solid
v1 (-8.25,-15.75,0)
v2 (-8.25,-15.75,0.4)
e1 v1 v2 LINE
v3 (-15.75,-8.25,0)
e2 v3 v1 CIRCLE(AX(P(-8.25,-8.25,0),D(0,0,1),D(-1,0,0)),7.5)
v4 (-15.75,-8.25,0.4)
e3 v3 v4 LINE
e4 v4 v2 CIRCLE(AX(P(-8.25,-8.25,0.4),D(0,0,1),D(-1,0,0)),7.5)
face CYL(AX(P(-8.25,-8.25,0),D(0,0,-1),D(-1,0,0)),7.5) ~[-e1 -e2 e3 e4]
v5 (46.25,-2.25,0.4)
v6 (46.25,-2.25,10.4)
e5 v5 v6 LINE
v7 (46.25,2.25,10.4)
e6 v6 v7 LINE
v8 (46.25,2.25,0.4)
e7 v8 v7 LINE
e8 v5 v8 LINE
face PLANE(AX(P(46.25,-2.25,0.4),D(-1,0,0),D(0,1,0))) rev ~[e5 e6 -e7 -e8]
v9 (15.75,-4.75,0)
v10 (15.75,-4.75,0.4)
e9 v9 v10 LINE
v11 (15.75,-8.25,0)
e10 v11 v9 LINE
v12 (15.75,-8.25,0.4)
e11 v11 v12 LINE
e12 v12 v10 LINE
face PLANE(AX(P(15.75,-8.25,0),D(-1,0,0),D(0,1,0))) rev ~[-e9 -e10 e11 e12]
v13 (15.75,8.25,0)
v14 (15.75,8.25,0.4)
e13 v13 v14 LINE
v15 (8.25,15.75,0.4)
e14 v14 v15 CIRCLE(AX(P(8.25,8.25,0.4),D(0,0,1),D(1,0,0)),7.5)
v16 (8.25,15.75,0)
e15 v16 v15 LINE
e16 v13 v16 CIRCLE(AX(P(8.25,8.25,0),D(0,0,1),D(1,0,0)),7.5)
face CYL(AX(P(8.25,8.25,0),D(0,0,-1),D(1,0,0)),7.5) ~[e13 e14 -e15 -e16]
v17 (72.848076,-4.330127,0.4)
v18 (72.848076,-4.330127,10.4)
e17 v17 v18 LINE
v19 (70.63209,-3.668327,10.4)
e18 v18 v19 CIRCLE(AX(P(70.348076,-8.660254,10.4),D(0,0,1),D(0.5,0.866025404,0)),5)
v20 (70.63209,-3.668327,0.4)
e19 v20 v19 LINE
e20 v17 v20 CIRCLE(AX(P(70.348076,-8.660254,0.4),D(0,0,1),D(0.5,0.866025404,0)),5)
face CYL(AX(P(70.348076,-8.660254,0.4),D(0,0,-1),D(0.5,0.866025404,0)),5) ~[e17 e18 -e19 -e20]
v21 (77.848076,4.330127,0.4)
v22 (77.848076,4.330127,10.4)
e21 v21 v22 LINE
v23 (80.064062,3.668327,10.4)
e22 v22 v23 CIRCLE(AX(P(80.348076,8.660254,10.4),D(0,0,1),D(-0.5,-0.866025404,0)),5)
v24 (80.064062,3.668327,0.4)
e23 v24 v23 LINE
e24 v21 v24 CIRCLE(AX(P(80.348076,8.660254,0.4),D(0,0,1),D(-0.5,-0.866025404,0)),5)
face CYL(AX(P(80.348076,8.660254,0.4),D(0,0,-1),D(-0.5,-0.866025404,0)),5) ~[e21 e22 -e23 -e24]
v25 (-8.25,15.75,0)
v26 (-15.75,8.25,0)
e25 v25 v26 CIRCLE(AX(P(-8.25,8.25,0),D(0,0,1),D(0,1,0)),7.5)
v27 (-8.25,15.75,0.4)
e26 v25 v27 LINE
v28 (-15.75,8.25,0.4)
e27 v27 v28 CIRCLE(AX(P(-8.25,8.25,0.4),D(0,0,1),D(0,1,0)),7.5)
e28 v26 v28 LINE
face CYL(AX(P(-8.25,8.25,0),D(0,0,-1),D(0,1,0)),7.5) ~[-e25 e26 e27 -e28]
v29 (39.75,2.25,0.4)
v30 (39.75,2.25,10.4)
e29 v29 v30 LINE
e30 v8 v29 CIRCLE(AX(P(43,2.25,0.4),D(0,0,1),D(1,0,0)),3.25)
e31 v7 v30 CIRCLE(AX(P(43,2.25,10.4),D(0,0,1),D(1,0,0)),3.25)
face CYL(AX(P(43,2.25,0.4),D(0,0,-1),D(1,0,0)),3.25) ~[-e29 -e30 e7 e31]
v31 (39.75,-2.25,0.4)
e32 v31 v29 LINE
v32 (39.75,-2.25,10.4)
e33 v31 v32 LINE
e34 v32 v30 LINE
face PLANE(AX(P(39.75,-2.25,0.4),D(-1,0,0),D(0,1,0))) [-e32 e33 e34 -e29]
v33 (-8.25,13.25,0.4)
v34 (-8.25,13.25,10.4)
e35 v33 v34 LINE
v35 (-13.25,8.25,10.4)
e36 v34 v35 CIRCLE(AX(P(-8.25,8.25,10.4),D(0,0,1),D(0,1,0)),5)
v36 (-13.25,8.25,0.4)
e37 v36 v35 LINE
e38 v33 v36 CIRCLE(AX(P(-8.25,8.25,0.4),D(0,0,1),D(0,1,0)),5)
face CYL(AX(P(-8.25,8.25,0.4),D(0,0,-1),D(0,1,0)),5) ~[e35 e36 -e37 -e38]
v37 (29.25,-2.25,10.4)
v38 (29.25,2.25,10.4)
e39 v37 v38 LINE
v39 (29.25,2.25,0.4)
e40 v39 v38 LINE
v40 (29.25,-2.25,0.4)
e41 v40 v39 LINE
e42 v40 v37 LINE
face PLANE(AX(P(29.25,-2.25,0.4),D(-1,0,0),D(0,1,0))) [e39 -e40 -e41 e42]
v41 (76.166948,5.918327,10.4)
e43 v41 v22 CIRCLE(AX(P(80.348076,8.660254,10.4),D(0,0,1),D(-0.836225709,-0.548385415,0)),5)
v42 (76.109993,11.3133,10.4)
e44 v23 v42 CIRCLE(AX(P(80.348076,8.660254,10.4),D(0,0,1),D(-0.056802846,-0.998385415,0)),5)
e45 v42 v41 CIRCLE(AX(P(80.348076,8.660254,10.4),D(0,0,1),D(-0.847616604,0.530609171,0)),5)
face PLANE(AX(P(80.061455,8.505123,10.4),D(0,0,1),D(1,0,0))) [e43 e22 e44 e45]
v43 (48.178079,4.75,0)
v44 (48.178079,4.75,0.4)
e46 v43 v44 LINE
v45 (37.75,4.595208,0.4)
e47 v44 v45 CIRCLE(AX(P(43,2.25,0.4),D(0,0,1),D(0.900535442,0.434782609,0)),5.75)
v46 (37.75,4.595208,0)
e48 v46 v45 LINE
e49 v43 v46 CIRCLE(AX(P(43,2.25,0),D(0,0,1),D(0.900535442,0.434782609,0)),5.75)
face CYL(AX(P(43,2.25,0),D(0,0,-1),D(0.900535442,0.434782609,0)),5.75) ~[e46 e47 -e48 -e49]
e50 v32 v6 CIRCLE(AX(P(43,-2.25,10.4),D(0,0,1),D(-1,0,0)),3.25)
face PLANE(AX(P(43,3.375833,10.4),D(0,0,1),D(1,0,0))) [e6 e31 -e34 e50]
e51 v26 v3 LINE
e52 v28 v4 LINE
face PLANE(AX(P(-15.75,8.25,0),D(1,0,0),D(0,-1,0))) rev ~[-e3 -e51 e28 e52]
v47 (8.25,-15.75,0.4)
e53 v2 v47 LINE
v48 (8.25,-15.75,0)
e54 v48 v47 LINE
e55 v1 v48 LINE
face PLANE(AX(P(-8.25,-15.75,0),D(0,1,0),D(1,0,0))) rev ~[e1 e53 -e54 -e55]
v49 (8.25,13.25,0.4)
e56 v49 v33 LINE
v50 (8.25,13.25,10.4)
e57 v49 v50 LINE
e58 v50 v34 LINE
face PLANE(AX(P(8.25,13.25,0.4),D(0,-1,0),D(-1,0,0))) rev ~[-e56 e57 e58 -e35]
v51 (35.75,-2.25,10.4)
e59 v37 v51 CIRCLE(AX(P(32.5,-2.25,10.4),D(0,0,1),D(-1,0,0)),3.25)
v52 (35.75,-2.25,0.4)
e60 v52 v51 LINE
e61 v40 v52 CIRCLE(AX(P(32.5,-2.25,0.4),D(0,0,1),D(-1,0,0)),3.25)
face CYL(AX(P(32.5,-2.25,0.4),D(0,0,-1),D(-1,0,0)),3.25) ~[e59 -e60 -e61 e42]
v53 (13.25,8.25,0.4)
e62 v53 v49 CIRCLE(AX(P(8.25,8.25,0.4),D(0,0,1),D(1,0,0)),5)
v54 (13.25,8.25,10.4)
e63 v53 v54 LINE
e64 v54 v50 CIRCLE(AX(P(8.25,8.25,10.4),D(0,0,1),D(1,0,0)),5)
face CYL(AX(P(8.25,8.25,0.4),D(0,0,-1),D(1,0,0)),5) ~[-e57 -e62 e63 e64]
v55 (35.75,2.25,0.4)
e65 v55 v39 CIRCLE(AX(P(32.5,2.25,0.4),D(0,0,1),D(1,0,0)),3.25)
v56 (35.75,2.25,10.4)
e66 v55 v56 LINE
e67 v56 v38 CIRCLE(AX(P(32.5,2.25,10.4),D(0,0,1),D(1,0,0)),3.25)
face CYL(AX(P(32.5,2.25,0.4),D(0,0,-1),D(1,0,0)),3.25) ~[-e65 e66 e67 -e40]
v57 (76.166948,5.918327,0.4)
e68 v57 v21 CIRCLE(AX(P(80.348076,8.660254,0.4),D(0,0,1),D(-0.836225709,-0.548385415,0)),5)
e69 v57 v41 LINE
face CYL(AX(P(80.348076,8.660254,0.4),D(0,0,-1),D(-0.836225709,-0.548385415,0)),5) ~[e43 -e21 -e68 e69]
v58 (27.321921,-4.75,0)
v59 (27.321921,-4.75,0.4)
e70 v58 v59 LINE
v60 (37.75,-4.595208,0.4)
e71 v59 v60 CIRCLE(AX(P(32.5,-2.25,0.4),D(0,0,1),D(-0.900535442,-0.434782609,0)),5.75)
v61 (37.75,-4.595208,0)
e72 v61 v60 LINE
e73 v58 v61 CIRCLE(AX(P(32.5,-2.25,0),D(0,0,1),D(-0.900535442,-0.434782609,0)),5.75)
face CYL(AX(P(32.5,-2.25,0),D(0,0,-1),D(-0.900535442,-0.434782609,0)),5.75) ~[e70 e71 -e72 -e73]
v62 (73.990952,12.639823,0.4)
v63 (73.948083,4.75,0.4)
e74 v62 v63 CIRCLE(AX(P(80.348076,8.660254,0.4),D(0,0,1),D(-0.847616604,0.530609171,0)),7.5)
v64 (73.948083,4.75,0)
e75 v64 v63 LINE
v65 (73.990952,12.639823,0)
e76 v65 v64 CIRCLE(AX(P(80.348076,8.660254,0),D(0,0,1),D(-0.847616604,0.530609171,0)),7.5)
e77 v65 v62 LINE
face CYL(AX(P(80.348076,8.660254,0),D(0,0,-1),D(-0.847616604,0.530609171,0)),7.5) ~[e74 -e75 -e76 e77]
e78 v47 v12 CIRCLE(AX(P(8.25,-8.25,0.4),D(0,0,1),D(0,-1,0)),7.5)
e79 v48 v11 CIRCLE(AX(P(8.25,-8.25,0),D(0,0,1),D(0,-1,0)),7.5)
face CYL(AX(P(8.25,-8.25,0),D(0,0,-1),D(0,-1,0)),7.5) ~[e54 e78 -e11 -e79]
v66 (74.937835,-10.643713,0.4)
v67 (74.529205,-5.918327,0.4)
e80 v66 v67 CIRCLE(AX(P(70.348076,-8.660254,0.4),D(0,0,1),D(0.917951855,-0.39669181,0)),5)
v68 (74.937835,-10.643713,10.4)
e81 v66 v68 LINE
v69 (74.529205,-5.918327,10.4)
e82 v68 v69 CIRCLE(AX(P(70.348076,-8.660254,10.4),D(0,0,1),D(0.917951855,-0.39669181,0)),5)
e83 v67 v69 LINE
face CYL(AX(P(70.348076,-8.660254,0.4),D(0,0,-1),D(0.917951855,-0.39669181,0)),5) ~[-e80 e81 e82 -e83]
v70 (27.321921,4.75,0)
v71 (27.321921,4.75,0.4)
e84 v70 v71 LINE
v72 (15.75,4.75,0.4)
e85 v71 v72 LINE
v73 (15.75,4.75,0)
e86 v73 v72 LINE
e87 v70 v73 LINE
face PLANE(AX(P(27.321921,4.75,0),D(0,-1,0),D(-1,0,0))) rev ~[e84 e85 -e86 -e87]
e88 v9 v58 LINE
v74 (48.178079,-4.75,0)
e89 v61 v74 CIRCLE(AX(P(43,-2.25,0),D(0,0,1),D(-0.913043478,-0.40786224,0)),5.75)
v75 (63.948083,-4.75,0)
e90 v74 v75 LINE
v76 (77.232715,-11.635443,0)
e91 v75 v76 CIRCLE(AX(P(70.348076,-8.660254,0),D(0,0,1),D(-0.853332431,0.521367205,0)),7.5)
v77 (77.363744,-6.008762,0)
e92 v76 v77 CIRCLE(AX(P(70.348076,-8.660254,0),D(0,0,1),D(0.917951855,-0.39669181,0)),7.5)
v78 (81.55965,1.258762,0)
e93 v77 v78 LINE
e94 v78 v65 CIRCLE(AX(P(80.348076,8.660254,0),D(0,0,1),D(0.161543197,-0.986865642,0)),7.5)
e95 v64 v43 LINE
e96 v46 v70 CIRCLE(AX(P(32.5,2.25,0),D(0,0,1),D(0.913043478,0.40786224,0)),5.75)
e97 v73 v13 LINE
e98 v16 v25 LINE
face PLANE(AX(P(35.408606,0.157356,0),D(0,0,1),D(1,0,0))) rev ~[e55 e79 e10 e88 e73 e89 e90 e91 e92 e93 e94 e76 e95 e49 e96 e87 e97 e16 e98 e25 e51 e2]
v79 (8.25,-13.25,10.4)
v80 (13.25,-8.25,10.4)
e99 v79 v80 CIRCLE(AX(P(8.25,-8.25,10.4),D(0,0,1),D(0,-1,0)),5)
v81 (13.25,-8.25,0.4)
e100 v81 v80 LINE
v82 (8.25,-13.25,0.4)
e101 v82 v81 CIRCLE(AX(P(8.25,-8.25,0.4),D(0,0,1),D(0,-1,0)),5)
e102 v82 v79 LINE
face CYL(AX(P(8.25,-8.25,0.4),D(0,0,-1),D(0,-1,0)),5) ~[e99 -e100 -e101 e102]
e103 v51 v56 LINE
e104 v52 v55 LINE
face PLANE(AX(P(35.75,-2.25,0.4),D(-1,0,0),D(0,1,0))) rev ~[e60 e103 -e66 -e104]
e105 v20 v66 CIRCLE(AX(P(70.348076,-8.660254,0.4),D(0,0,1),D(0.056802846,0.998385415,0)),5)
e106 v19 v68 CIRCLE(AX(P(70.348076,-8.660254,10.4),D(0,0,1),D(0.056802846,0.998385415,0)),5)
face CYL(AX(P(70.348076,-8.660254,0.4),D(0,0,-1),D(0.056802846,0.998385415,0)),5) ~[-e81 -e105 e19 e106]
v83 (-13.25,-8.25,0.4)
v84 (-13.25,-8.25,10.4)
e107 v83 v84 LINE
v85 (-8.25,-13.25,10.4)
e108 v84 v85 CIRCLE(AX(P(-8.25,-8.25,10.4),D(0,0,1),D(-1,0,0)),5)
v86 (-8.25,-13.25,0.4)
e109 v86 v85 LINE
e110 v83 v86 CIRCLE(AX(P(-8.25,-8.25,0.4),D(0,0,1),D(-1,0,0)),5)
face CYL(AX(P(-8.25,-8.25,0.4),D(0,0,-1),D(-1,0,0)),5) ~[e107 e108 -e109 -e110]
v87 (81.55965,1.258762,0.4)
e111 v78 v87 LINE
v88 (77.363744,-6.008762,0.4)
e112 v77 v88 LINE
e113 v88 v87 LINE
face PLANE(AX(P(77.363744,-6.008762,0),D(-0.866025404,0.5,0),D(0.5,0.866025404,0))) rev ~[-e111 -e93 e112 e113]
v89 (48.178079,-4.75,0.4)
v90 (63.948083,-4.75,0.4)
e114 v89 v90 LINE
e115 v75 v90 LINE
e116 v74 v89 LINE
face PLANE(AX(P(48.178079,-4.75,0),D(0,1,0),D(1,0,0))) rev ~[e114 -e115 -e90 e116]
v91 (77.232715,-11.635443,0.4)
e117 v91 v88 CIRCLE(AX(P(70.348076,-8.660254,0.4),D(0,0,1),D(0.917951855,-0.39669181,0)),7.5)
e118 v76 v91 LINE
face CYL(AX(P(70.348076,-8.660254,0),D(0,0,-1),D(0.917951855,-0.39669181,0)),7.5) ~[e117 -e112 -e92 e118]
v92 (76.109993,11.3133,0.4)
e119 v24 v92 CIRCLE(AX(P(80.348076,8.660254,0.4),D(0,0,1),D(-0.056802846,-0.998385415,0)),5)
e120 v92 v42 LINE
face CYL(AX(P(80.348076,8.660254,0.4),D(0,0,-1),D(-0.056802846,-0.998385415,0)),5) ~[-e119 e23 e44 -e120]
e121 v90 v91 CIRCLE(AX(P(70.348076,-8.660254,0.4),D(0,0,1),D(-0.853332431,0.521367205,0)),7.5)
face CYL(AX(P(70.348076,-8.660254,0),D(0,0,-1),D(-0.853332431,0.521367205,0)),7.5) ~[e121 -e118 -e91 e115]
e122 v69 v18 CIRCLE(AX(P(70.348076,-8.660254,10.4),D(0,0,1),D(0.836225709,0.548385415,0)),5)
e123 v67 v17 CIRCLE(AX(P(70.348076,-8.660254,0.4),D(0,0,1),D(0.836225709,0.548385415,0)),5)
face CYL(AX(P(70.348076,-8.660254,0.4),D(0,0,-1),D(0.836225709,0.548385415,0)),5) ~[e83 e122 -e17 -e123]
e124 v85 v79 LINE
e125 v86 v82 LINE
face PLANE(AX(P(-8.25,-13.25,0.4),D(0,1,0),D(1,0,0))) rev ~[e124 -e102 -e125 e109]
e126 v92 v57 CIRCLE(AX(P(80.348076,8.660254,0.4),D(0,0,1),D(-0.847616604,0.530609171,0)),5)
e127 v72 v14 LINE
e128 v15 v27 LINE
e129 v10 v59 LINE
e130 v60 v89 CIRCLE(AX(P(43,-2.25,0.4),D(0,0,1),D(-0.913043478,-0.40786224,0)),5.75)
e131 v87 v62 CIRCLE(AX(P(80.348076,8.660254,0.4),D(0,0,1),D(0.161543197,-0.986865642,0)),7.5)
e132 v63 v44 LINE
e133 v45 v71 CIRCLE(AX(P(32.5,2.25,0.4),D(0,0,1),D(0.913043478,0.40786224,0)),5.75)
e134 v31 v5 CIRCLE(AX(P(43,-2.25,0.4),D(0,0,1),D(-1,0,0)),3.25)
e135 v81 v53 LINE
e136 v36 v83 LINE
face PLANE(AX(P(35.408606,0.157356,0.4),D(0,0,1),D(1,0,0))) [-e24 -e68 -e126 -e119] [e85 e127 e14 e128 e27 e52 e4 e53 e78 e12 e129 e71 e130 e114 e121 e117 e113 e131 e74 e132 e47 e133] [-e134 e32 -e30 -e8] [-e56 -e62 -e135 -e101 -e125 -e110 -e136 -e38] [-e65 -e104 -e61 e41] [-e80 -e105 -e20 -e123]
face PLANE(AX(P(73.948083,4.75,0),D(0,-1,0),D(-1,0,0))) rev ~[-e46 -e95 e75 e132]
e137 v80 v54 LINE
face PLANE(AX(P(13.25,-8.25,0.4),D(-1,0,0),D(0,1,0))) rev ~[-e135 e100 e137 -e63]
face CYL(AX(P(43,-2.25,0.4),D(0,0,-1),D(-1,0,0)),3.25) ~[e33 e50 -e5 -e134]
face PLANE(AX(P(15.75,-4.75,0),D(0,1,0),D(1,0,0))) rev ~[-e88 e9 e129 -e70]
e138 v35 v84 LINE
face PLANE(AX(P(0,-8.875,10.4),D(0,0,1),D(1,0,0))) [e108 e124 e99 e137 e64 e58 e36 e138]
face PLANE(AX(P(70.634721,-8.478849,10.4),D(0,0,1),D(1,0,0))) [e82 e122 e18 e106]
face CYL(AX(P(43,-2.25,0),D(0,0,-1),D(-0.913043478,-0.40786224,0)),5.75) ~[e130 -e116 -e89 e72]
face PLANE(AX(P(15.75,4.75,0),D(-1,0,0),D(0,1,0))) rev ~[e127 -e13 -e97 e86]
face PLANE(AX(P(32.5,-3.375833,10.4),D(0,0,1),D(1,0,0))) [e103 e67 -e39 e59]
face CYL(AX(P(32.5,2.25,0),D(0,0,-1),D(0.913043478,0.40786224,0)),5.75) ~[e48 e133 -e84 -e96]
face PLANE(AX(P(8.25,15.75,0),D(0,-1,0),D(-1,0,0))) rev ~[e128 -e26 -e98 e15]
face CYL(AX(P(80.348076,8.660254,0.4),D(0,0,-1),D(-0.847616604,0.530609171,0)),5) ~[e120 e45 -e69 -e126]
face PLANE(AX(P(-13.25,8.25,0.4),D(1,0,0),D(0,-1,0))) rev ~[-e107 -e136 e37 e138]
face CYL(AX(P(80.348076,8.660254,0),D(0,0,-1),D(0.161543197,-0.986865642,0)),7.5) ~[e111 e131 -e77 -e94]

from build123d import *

# Parameters (mm, degrees)
F0_W     = 16
F0_H     = 4.5
F0_W_2   = 6.5
F0_W_3   = 4
F1_DEPTH = 0.4
F2_W     = 6.5
F2_H     = 4.5
F3_DEPTH = 10


with BuildPart() as f1:
    # F0 (on Top) → F1 (new body)
    with BuildSketch(Plane.XY):
        with BuildLine():
            Line((15.75, 4.75), (15.75, 8.25))
            ThreePointArc((15.75, 8.25), (13.5533008589, 13.5533008589), (8.25, 15.75))
            Line((8.25, 15.75), (-8.25, 15.75))
            ThreePointArc((-8.25, 15.75), (-13.5533008589, 13.5533008589), (-15.75, 8.25))
            Line((-15.75, 8.25), (-15.75, -8.25))
            ThreePointArc((-15.75, -8.25), (-13.5533008589, -13.5533008589), (-8.25, -15.75))
            Line((-8.25, -15.75), (8.25, -15.75))
            ThreePointArc((8.25, -15.75), (13.5533008589, -13.5533008589), (15.75, -8.25))
            Line((15.75, -8.25), (15.75, -4.75))
            Line((15.75, -4.75), (27.3219212057, -4.75))
            ThreePointArc((27.3219212057, -4.75), (32.5853423404, -7.9993666334), (37.75, -4.5952078799))
            ThreePointArc((37.75, -4.5952078799), (42.9146576596, -7.9993666334), (48.1780787943, -4.75))
            Line((48.1780787943, -4.75), (63.9480829801, -4.75))
            ThreePointArc((63.9480829801, -4.75), (66.8968372515, -15.3190038936), (77.2327151222, -11.6354426145))
            ThreePointArc((77.2327151222, -11.6354426145), (77.8460434738, -8.8348591092), (77.3637435709, -6.0087617221))
            Line((77.3637435709, -6.0087617221), (81.5596501878, 1.2587617221))
            ThreePointArc((81.5596501878, 1.2587617221), (86.5931791372, 12.813408194), (73.9909516796, 12.6398228195))
            ThreePointArc((73.9909516796, 12.6398228195), (72.8481869165, 8.7010040658), (73.9480829801, 4.75))
            Line((73.9480829801, 4.75), (48.1780787943, 4.75))
            ThreePointArc((48.1780787943, 4.75), (42.9146576596, 7.9993666334), (37.75, 4.5952078799))
            ThreePointArc((37.75, 4.5952078799), (32.5853423404, 7.9993666334), (27.3219212057, 4.75))
            Line((27.3219212057, 4.75), (15.75, 4.75))
        make_face()
        with BuildLine():
            ThreePointArc((13.25, -8.25), (11.7855339059, -11.7855339059), (8.25, -13.25))
            Line((8.25, -13.25), (4.5, -13.25))
            Line((4.5, -13.25), (-4.5, -13.25))
            Line((-4.5, -13.25), (-8.25, -13.25))
            ThreePointArc((-8.25, -13.25), (-11.7855339059, -11.7855339059), (-13.25, -8.25))
            Line((-13.25, -8.25), (-13.25, -4.5))
            Line((-13.25, -4.5), (-13.25, 4.5))
            Line((-13.25, 4.5), (-13.25, 8.25))
            ThreePointArc((-13.25, 8.25), (-11.7855339059, 11.7855339059), (-8.25, 13.25))
            Line((-8.25, 13.25), (-4.5, 13.25))
            Line((-4.5, 13.25), (4.5, 13.25))
            Line((4.5, 13.25), (8.25, 13.25))
            ThreePointArc((8.25, 13.25), (11.7855339059, 11.7855339059), (13.25, 8.25))
            Line((13.25, 8.25), (13.25, 4.5))
            Line((13.25, 4.5), (13.25, 2.25))
            Line((13.25, 2.25), (29.25, 2.25))
            ThreePointArc((29.25, 2.25), (32.5, 5.5), (35.75, 2.25))
            Line((35.75, 2.25), (39.75, 2.25))
            ThreePointArc((39.75, 2.25), (43, 5.5), (46.25, 2.25))
            Line((46.25, 2.25), (74.0490381057, 2.25))
            Line((74.0490381057, 2.25), (76.1669476654, 5.9183269633))
            ThreePointArc((76.1669476654, 5.9183269633), (75.3483548112, 8.6074722144), (76.1099931902, 11.3132998923))
            ThreePointArc((76.1099931902, 11.3132998923), (84.7892183681, 10.9572643434), (80.0640619824, 3.6683269633))
            Line((80.0640619824, 3.6683269633), (74.5292047573, -5.9183269633))
            ThreePointArc((74.5292047573, -5.9183269633), (75.3294853289, -8.2294835611), (74.9378354853, -10.643713089))
            ThreePointArc((74.9378354853, -10.643713089), (66.0933823399, -11.2865784771), (70.6320904403, -3.6683269633))
            Line((70.6320904403, -3.6683269633), (71.4509618943, -2.25))
            Line((71.4509618943, -2.25), (46.25, -2.25))
            ThreePointArc((46.25, -2.25), (43, -5.5), (39.75, -2.25))
            Line((39.75, -2.25), (35.75, -2.25))
            ThreePointArc((35.75, -2.25), (32.5, -5.5), (29.25, -2.25))
            Line((29.25, -2.25), (13.25, -2.25))
            Line((13.25, -2.25), (13.25, -4.5))
            Line((13.25, -4.5), (13.25, -8.25))
        make_face(mode=Mode.SUBTRACT)
        Polygon((46.25, 2.25), (46.25, -2.25), (71.4509618943, -2.25), (74.0490381057, 2.25), align=None)
        Polygon((-4.5, 4.5), (0, 4.5), (4.5, 4.5), (4.5, 13.25), (-4.5, 13.25), align=None)
        Polygon((-13.25, -4.5), (-4.5, -4.5), (-4.5, 0), (-4.5, 4.5), (-13.25, 4.5), align=None)
        Polygon((4.5, 0), (4.5, -4.5), (13.25, -4.5), (13.25, -2.25), (13.25, 2.25), (13.25, 4.5), (4.5, 4.5), align=None)
        Polygon((-4.5, -13.25), (4.5, -13.25), (4.5, -4.5), (0, -4.5), (-4.5, -4.5), align=None)
        with BuildLine():
            ThreePointArc((74.5292047573, -5.9183269633), (72.8480762114, -4.3301270189), (70.6320904403, -3.6683269633))
            ThreePointArc((70.6320904403, -3.6683269633), (66.0933823399, -11.2865784771), (74.9378354853, -10.643713089))
            ThreePointArc((74.9378354853, -10.643713089), (75.3294853289, -8.2294835611), (74.5292047573, -5.9183269633))
        make_face()
        with BuildLine():
            ThreePointArc((76.1099931902, 11.3132998923), (75.3483548112, 8.6074722144), (76.1669476654, 5.9183269633))
            ThreePointArc((76.1669476654, 5.9183269633), (77.8480762114, 4.3301270189), (80.0640619824, 3.6683269633))
            ThreePointArc((80.0640619824, 3.6683269633), (84.7892183681, 10.9572643434), (76.1099931902, 11.3132998923))
        make_face()
        with Locations((21.25, 0)):
            Rectangle(F0_W, F0_H)
        with BuildLine():
            Line((4.5, 13.25), (4.5, 4.5))
            Line((4.5, 4.5), (13.25, 4.5))
            Line((13.25, 4.5), (13.25, 8.25))
            ThreePointArc((13.25, 8.25), (11.7855339059, 11.7855339059), (8.25, 13.25))
            Line((8.25, 13.25), (4.5, 13.25))
        make_face()
        with BuildLine():
            Line((-13.25, 4.5), (-4.5, 4.5))
            Line((-4.5, 4.5), (-4.5, 13.25))
            Line((-4.5, 13.25), (-8.25, 13.25))
            ThreePointArc((-8.25, 13.25), (-11.7855339059, 11.7855339059), (-13.25, 8.25))
            Line((-13.25, 8.25), (-13.25, 4.5))
        make_face()
        with BuildLine():
            Line((4.5, -13.25), (8.25, -13.25))
            ThreePointArc((8.25, -13.25), (11.7855339059, -11.7855339059), (13.25, -8.25))
            Line((13.25, -8.25), (13.25, -4.5))
            Line((13.25, -4.5), (4.5, -4.5))
            Line((4.5, -4.5), (4.5, -13.25))
        make_face()
        with BuildLine():
            Line((-8.25, -13.25), (-4.5, -13.25))
            Line((-4.5, -13.25), (-4.5, -4.5))
            Line((-4.5, -4.5), (-13.25, -4.5))
            Line((-13.25, -4.5), (-13.25, -8.25))
            ThreePointArc((-13.25, -8.25), (-11.7855339059, -11.7855339059), (-8.25, -13.25))
        make_face()
        with BuildLine():
            ThreePointArc((0, -4.5), (3.1819805153, -3.1819805153), (4.5, 0))
            ThreePointArc((4.5, 0), (3.1819805153, 3.1819805153), (0, 4.5))
            ThreePointArc((0, 4.5), (-3.1819805153, 3.1819805153), (-4.5, 0))
            ThreePointArc((-4.5, 0), (-3.1819805153, -3.1819805153), (0, -4.5))
        make_face()
        with BuildLine():
            Line((74.0490381057, 2.25), (71.4509618943, -2.25))
            Line((71.4509618943, -2.25), (70.6320904403, -3.6683269633))
            ThreePointArc((70.6320904403, -3.6683269633), (72.8480762114, -4.3301270189), (74.5292047573, -5.9183269633))
            Line((74.5292047573, -5.9183269633), (80.0640619824, 3.6683269633))
            ThreePointArc((80.0640619824, 3.6683269633), (77.8480762114, 4.3301270189), (76.1669476654, 5.9183269633))
            Line((76.1669476654, 5.9183269633), (74.0490381057, 2.25))
        make_face()
        with Locations((32.5, 0)):
            Rectangle(F0_W_2, F0_H)
        with Locations((43, 0)):
            Rectangle(F0_W_2, F0_H)
        with Locations((37.75, 0)):
            Rectangle(F0_W_3, F0_H)
        with BuildLine():
            Line((35.75, -2.25), (29.25, -2.25))
            ThreePointArc((29.25, -2.25), (32.5, -5.5), (35.75, -2.25))
        make_face()
        with BuildLine():
            ThreePointArc((35.75, 2.25), (32.5, 5.5), (29.25, 2.25))
            Line((29.25, 2.25), (35.75, 2.25))
        make_face()
        with BuildLine():
            Line((46.25, -2.25), (39.75, -2.25))
            ThreePointArc((39.75, -2.25), (43, -5.5), (46.25, -2.25))
        make_face()
        with BuildLine():
            ThreePointArc((46.25, 2.25), (43, 5.5), (39.75, 2.25))
            Line((39.75, 2.25), (46.25, 2.25))
        make_face()
        with BuildLine():
            Line((0, -4.5), (4.5, -4.5))
            Line((4.5, -4.5), (4.5, 0))
            ThreePointArc((4.5, 0), (3.1819805153, -3.1819805153), (0, -4.5))
        make_face()
        with BuildLine():
            Line((-4.5, 4.5), (-4.5, 0))
            ThreePointArc((-4.5, 0), (-3.1819805153, 3.1819805153), (0, 4.5))
            Line((0, 4.5), (-4.5, 4.5))
        make_face()
        with BuildLine():
            Line((-4.5, 0), (-4.5, -4.5))
            Line((-4.5, -4.5), (0, -4.5))
            ThreePointArc((0, -4.5), (-3.1819805153, -3.1819805153), (-4.5, 0))
        make_face()
        with BuildLine():
            ThreePointArc((0, 4.5), (3.1819805153, 3.1819805153), (4.5, 0))
            Line((4.5, 0), (4.5, 4.5))
            Line((4.5, 4.5), (0, 4.5))
        make_face()
    extrude(amount=F1_DEPTH)

    # F2 (on face) → F3 (join)
    with BuildSketch(Plane.XY.offset(0.4)):
        Polygon((-4.5, -13.25), (4.5, -13.25), (4.5, -4.5), (0, -4.5), (-4.5, -4.5), align=None)
        with BuildLine():
            Line((35.75, -2.25), (29.25, -2.25))
            ThreePointArc((29.25, -2.25), (32.5, -5.5), (35.75, -2.25))
        make_face()
        with BuildLine():
            ThreePointArc((35.75, 2.25), (32.5, 5.5), (29.25, 2.25))
            Line((29.25, 2.25), (35.75, 2.25))
        make_face()
        with Locations((32.5, 0)):
            Rectangle(F2_W, F2_H)
        with BuildLine():
            ThreePointArc((46.25, 2.25), (43, 5.5), (39.75, 2.25))
            Line((39.75, 2.25), (46.25, 2.25))
        make_face()
        with Locations((43, 0)):
            Rectangle(F2_W, F2_H)
        with BuildLine():
            Line((46.25, -2.25), (39.75, -2.25))
            ThreePointArc((39.75, -2.25), (43, -5.5), (46.25, -2.25))
        make_face()
        with BuildLine():
            ThreePointArc((72.8480762114, -4.3301270189), (71.7788727151, -3.8693437522), (70.6320904403, -3.6683269633))
            ThreePointArc((70.6320904403, -3.6683269633), (66.0933823399, -11.2865784771), (74.9378354853, -10.643713089))
            ThreePointArc((74.9378354853, -10.643713089), (75.3294853289, -8.2294835611), (74.5292047573, -5.9183269633))
            ThreePointArc((74.5292047573, -5.9183269633), (73.7817279741, -5.0256927751), (72.8480762114, -4.3301270189))
        make_face()
        with BuildLine():
            ThreePointArc((76.1099931902, 11.3132998923), (75.3483548112, 8.6074722144), (76.1669476654, 5.9183269633))
            ThreePointArc((76.1669476654, 5.9183269633), (76.9144244486, 5.0256927751), (77.8480762114, 4.3301270189))
            ThreePointArc((77.8480762114, 4.3301270189), (78.9172797076, 3.8693437522), (80.0640619824, 3.6683269633))
            ThreePointArc((80.0640619824, 3.6683269633), (84.7892183681, 10.9572643434), (76.1099931902, 11.3132998923))
        make_face()
        Polygon((-13.25, -4.5), (-4.5, -4.5), (-4.5, 0), (-4.5, 4.5), (-13.25, 4.5), align=None)
        Polygon((4.5, 0), (4.5, -4.5), (13.25, -4.5), (13.25, -2.25), (13.25, 2.25), (13.25, 4.5), (4.5, 4.5), align=None)
        Polygon((-4.5, 4.5), (0, 4.5), (4.5, 4.5), (4.5, 13.25), (-4.5, 13.25), align=None)
        with BuildLine():
            Line((4.5, -13.25), (8.25, -13.25))
            ThreePointArc((8.25, -13.25), (11.7855339059, -11.7855339059), (13.25, -8.25))
            Line((13.25, -8.25), (13.25, -4.5))
            Line((13.25, -4.5), (4.5, -4.5))
            Line((4.5, -4.5), (4.5, -13.25))
        make_face()
        with BuildLine():
            Line((4.5, 13.25), (4.5, 4.5))
            Line((4.5, 4.5), (13.25, 4.5))
            Line((13.25, 4.5), (13.25, 8.25))
            ThreePointArc((13.25, 8.25), (11.7855339059, 11.7855339059), (8.25, 13.25))
            Line((8.25, 13.25), (4.5, 13.25))
        make_face()
        with BuildLine():
            Line((-13.25, 4.5), (-4.5, 4.5))
            Line((-4.5, 4.5), (-4.5, 13.25))
            Line((-4.5, 13.25), (-8.25, 13.25))
            ThreePointArc((-8.25, 13.25), (-11.7855339059, 11.7855339059), (-13.25, 8.25))
            Line((-13.25, 8.25), (-13.25, 4.5))
        make_face()
        with BuildLine():
            Line((-8.25, -13.25), (-4.5, -13.25))
            Line((-4.5, -13.25), (-4.5, -4.5))
            Line((-4.5, -4.5), (-13.25, -4.5))
            Line((-13.25, -4.5), (-13.25, -8.25))
            ThreePointArc((-13.25, -8.25), (-11.7855339059, -11.7855339059), (-8.25, -13.25))
        make_face()
        with BuildLine():
            ThreePointArc((0, -4.5), (3.1819805153, -3.1819805153), (4.5, 0))
            ThreePointArc((4.5, 0), (3.1819805153, 3.1819805153), (0, 4.5))
            ThreePointArc((0, 4.5), (-3.1819805153, 3.1819805153), (-4.5, 0))
            ThreePointArc((-4.5, 0), (-3.1819805153, -3.1819805153), (0, -4.5))
        make_face()
        with BuildLine():
            Line((0, -4.5), (4.5, -4.5))
            Line((4.5, -4.5), (4.5, 0))
            ThreePointArc((4.5, 0), (3.1819805153, -3.1819805153), (0, -4.5))
        make_face()
        with BuildLine():
            ThreePointArc((0, 4.5), (3.1819805153, 3.1819805153), (4.5, 0))
            Line((4.5, 0), (4.5, 4.5))
            Line((4.5, 4.5), (0, 4.5))
        make_face()
        with BuildLine():
            Line((-4.5, 4.5), (-4.5, 0))
            ThreePointArc((-4.5, 0), (-3.1819805153, 3.1819805153), (0, 4.5))
            Line((0, 4.5), (-4.5, 4.5))
        make_face()
        with BuildLine():
            Line((-4.5, 0), (-4.5, -4.5))
            Line((-4.5, -4.5), (0, -4.5))
            ThreePointArc((0, -4.5), (-3.1819805153, -3.1819805153), (-4.5, 0))
        make_face()
    extrude(amount=F3_DEPTH)


solid = f1.part
